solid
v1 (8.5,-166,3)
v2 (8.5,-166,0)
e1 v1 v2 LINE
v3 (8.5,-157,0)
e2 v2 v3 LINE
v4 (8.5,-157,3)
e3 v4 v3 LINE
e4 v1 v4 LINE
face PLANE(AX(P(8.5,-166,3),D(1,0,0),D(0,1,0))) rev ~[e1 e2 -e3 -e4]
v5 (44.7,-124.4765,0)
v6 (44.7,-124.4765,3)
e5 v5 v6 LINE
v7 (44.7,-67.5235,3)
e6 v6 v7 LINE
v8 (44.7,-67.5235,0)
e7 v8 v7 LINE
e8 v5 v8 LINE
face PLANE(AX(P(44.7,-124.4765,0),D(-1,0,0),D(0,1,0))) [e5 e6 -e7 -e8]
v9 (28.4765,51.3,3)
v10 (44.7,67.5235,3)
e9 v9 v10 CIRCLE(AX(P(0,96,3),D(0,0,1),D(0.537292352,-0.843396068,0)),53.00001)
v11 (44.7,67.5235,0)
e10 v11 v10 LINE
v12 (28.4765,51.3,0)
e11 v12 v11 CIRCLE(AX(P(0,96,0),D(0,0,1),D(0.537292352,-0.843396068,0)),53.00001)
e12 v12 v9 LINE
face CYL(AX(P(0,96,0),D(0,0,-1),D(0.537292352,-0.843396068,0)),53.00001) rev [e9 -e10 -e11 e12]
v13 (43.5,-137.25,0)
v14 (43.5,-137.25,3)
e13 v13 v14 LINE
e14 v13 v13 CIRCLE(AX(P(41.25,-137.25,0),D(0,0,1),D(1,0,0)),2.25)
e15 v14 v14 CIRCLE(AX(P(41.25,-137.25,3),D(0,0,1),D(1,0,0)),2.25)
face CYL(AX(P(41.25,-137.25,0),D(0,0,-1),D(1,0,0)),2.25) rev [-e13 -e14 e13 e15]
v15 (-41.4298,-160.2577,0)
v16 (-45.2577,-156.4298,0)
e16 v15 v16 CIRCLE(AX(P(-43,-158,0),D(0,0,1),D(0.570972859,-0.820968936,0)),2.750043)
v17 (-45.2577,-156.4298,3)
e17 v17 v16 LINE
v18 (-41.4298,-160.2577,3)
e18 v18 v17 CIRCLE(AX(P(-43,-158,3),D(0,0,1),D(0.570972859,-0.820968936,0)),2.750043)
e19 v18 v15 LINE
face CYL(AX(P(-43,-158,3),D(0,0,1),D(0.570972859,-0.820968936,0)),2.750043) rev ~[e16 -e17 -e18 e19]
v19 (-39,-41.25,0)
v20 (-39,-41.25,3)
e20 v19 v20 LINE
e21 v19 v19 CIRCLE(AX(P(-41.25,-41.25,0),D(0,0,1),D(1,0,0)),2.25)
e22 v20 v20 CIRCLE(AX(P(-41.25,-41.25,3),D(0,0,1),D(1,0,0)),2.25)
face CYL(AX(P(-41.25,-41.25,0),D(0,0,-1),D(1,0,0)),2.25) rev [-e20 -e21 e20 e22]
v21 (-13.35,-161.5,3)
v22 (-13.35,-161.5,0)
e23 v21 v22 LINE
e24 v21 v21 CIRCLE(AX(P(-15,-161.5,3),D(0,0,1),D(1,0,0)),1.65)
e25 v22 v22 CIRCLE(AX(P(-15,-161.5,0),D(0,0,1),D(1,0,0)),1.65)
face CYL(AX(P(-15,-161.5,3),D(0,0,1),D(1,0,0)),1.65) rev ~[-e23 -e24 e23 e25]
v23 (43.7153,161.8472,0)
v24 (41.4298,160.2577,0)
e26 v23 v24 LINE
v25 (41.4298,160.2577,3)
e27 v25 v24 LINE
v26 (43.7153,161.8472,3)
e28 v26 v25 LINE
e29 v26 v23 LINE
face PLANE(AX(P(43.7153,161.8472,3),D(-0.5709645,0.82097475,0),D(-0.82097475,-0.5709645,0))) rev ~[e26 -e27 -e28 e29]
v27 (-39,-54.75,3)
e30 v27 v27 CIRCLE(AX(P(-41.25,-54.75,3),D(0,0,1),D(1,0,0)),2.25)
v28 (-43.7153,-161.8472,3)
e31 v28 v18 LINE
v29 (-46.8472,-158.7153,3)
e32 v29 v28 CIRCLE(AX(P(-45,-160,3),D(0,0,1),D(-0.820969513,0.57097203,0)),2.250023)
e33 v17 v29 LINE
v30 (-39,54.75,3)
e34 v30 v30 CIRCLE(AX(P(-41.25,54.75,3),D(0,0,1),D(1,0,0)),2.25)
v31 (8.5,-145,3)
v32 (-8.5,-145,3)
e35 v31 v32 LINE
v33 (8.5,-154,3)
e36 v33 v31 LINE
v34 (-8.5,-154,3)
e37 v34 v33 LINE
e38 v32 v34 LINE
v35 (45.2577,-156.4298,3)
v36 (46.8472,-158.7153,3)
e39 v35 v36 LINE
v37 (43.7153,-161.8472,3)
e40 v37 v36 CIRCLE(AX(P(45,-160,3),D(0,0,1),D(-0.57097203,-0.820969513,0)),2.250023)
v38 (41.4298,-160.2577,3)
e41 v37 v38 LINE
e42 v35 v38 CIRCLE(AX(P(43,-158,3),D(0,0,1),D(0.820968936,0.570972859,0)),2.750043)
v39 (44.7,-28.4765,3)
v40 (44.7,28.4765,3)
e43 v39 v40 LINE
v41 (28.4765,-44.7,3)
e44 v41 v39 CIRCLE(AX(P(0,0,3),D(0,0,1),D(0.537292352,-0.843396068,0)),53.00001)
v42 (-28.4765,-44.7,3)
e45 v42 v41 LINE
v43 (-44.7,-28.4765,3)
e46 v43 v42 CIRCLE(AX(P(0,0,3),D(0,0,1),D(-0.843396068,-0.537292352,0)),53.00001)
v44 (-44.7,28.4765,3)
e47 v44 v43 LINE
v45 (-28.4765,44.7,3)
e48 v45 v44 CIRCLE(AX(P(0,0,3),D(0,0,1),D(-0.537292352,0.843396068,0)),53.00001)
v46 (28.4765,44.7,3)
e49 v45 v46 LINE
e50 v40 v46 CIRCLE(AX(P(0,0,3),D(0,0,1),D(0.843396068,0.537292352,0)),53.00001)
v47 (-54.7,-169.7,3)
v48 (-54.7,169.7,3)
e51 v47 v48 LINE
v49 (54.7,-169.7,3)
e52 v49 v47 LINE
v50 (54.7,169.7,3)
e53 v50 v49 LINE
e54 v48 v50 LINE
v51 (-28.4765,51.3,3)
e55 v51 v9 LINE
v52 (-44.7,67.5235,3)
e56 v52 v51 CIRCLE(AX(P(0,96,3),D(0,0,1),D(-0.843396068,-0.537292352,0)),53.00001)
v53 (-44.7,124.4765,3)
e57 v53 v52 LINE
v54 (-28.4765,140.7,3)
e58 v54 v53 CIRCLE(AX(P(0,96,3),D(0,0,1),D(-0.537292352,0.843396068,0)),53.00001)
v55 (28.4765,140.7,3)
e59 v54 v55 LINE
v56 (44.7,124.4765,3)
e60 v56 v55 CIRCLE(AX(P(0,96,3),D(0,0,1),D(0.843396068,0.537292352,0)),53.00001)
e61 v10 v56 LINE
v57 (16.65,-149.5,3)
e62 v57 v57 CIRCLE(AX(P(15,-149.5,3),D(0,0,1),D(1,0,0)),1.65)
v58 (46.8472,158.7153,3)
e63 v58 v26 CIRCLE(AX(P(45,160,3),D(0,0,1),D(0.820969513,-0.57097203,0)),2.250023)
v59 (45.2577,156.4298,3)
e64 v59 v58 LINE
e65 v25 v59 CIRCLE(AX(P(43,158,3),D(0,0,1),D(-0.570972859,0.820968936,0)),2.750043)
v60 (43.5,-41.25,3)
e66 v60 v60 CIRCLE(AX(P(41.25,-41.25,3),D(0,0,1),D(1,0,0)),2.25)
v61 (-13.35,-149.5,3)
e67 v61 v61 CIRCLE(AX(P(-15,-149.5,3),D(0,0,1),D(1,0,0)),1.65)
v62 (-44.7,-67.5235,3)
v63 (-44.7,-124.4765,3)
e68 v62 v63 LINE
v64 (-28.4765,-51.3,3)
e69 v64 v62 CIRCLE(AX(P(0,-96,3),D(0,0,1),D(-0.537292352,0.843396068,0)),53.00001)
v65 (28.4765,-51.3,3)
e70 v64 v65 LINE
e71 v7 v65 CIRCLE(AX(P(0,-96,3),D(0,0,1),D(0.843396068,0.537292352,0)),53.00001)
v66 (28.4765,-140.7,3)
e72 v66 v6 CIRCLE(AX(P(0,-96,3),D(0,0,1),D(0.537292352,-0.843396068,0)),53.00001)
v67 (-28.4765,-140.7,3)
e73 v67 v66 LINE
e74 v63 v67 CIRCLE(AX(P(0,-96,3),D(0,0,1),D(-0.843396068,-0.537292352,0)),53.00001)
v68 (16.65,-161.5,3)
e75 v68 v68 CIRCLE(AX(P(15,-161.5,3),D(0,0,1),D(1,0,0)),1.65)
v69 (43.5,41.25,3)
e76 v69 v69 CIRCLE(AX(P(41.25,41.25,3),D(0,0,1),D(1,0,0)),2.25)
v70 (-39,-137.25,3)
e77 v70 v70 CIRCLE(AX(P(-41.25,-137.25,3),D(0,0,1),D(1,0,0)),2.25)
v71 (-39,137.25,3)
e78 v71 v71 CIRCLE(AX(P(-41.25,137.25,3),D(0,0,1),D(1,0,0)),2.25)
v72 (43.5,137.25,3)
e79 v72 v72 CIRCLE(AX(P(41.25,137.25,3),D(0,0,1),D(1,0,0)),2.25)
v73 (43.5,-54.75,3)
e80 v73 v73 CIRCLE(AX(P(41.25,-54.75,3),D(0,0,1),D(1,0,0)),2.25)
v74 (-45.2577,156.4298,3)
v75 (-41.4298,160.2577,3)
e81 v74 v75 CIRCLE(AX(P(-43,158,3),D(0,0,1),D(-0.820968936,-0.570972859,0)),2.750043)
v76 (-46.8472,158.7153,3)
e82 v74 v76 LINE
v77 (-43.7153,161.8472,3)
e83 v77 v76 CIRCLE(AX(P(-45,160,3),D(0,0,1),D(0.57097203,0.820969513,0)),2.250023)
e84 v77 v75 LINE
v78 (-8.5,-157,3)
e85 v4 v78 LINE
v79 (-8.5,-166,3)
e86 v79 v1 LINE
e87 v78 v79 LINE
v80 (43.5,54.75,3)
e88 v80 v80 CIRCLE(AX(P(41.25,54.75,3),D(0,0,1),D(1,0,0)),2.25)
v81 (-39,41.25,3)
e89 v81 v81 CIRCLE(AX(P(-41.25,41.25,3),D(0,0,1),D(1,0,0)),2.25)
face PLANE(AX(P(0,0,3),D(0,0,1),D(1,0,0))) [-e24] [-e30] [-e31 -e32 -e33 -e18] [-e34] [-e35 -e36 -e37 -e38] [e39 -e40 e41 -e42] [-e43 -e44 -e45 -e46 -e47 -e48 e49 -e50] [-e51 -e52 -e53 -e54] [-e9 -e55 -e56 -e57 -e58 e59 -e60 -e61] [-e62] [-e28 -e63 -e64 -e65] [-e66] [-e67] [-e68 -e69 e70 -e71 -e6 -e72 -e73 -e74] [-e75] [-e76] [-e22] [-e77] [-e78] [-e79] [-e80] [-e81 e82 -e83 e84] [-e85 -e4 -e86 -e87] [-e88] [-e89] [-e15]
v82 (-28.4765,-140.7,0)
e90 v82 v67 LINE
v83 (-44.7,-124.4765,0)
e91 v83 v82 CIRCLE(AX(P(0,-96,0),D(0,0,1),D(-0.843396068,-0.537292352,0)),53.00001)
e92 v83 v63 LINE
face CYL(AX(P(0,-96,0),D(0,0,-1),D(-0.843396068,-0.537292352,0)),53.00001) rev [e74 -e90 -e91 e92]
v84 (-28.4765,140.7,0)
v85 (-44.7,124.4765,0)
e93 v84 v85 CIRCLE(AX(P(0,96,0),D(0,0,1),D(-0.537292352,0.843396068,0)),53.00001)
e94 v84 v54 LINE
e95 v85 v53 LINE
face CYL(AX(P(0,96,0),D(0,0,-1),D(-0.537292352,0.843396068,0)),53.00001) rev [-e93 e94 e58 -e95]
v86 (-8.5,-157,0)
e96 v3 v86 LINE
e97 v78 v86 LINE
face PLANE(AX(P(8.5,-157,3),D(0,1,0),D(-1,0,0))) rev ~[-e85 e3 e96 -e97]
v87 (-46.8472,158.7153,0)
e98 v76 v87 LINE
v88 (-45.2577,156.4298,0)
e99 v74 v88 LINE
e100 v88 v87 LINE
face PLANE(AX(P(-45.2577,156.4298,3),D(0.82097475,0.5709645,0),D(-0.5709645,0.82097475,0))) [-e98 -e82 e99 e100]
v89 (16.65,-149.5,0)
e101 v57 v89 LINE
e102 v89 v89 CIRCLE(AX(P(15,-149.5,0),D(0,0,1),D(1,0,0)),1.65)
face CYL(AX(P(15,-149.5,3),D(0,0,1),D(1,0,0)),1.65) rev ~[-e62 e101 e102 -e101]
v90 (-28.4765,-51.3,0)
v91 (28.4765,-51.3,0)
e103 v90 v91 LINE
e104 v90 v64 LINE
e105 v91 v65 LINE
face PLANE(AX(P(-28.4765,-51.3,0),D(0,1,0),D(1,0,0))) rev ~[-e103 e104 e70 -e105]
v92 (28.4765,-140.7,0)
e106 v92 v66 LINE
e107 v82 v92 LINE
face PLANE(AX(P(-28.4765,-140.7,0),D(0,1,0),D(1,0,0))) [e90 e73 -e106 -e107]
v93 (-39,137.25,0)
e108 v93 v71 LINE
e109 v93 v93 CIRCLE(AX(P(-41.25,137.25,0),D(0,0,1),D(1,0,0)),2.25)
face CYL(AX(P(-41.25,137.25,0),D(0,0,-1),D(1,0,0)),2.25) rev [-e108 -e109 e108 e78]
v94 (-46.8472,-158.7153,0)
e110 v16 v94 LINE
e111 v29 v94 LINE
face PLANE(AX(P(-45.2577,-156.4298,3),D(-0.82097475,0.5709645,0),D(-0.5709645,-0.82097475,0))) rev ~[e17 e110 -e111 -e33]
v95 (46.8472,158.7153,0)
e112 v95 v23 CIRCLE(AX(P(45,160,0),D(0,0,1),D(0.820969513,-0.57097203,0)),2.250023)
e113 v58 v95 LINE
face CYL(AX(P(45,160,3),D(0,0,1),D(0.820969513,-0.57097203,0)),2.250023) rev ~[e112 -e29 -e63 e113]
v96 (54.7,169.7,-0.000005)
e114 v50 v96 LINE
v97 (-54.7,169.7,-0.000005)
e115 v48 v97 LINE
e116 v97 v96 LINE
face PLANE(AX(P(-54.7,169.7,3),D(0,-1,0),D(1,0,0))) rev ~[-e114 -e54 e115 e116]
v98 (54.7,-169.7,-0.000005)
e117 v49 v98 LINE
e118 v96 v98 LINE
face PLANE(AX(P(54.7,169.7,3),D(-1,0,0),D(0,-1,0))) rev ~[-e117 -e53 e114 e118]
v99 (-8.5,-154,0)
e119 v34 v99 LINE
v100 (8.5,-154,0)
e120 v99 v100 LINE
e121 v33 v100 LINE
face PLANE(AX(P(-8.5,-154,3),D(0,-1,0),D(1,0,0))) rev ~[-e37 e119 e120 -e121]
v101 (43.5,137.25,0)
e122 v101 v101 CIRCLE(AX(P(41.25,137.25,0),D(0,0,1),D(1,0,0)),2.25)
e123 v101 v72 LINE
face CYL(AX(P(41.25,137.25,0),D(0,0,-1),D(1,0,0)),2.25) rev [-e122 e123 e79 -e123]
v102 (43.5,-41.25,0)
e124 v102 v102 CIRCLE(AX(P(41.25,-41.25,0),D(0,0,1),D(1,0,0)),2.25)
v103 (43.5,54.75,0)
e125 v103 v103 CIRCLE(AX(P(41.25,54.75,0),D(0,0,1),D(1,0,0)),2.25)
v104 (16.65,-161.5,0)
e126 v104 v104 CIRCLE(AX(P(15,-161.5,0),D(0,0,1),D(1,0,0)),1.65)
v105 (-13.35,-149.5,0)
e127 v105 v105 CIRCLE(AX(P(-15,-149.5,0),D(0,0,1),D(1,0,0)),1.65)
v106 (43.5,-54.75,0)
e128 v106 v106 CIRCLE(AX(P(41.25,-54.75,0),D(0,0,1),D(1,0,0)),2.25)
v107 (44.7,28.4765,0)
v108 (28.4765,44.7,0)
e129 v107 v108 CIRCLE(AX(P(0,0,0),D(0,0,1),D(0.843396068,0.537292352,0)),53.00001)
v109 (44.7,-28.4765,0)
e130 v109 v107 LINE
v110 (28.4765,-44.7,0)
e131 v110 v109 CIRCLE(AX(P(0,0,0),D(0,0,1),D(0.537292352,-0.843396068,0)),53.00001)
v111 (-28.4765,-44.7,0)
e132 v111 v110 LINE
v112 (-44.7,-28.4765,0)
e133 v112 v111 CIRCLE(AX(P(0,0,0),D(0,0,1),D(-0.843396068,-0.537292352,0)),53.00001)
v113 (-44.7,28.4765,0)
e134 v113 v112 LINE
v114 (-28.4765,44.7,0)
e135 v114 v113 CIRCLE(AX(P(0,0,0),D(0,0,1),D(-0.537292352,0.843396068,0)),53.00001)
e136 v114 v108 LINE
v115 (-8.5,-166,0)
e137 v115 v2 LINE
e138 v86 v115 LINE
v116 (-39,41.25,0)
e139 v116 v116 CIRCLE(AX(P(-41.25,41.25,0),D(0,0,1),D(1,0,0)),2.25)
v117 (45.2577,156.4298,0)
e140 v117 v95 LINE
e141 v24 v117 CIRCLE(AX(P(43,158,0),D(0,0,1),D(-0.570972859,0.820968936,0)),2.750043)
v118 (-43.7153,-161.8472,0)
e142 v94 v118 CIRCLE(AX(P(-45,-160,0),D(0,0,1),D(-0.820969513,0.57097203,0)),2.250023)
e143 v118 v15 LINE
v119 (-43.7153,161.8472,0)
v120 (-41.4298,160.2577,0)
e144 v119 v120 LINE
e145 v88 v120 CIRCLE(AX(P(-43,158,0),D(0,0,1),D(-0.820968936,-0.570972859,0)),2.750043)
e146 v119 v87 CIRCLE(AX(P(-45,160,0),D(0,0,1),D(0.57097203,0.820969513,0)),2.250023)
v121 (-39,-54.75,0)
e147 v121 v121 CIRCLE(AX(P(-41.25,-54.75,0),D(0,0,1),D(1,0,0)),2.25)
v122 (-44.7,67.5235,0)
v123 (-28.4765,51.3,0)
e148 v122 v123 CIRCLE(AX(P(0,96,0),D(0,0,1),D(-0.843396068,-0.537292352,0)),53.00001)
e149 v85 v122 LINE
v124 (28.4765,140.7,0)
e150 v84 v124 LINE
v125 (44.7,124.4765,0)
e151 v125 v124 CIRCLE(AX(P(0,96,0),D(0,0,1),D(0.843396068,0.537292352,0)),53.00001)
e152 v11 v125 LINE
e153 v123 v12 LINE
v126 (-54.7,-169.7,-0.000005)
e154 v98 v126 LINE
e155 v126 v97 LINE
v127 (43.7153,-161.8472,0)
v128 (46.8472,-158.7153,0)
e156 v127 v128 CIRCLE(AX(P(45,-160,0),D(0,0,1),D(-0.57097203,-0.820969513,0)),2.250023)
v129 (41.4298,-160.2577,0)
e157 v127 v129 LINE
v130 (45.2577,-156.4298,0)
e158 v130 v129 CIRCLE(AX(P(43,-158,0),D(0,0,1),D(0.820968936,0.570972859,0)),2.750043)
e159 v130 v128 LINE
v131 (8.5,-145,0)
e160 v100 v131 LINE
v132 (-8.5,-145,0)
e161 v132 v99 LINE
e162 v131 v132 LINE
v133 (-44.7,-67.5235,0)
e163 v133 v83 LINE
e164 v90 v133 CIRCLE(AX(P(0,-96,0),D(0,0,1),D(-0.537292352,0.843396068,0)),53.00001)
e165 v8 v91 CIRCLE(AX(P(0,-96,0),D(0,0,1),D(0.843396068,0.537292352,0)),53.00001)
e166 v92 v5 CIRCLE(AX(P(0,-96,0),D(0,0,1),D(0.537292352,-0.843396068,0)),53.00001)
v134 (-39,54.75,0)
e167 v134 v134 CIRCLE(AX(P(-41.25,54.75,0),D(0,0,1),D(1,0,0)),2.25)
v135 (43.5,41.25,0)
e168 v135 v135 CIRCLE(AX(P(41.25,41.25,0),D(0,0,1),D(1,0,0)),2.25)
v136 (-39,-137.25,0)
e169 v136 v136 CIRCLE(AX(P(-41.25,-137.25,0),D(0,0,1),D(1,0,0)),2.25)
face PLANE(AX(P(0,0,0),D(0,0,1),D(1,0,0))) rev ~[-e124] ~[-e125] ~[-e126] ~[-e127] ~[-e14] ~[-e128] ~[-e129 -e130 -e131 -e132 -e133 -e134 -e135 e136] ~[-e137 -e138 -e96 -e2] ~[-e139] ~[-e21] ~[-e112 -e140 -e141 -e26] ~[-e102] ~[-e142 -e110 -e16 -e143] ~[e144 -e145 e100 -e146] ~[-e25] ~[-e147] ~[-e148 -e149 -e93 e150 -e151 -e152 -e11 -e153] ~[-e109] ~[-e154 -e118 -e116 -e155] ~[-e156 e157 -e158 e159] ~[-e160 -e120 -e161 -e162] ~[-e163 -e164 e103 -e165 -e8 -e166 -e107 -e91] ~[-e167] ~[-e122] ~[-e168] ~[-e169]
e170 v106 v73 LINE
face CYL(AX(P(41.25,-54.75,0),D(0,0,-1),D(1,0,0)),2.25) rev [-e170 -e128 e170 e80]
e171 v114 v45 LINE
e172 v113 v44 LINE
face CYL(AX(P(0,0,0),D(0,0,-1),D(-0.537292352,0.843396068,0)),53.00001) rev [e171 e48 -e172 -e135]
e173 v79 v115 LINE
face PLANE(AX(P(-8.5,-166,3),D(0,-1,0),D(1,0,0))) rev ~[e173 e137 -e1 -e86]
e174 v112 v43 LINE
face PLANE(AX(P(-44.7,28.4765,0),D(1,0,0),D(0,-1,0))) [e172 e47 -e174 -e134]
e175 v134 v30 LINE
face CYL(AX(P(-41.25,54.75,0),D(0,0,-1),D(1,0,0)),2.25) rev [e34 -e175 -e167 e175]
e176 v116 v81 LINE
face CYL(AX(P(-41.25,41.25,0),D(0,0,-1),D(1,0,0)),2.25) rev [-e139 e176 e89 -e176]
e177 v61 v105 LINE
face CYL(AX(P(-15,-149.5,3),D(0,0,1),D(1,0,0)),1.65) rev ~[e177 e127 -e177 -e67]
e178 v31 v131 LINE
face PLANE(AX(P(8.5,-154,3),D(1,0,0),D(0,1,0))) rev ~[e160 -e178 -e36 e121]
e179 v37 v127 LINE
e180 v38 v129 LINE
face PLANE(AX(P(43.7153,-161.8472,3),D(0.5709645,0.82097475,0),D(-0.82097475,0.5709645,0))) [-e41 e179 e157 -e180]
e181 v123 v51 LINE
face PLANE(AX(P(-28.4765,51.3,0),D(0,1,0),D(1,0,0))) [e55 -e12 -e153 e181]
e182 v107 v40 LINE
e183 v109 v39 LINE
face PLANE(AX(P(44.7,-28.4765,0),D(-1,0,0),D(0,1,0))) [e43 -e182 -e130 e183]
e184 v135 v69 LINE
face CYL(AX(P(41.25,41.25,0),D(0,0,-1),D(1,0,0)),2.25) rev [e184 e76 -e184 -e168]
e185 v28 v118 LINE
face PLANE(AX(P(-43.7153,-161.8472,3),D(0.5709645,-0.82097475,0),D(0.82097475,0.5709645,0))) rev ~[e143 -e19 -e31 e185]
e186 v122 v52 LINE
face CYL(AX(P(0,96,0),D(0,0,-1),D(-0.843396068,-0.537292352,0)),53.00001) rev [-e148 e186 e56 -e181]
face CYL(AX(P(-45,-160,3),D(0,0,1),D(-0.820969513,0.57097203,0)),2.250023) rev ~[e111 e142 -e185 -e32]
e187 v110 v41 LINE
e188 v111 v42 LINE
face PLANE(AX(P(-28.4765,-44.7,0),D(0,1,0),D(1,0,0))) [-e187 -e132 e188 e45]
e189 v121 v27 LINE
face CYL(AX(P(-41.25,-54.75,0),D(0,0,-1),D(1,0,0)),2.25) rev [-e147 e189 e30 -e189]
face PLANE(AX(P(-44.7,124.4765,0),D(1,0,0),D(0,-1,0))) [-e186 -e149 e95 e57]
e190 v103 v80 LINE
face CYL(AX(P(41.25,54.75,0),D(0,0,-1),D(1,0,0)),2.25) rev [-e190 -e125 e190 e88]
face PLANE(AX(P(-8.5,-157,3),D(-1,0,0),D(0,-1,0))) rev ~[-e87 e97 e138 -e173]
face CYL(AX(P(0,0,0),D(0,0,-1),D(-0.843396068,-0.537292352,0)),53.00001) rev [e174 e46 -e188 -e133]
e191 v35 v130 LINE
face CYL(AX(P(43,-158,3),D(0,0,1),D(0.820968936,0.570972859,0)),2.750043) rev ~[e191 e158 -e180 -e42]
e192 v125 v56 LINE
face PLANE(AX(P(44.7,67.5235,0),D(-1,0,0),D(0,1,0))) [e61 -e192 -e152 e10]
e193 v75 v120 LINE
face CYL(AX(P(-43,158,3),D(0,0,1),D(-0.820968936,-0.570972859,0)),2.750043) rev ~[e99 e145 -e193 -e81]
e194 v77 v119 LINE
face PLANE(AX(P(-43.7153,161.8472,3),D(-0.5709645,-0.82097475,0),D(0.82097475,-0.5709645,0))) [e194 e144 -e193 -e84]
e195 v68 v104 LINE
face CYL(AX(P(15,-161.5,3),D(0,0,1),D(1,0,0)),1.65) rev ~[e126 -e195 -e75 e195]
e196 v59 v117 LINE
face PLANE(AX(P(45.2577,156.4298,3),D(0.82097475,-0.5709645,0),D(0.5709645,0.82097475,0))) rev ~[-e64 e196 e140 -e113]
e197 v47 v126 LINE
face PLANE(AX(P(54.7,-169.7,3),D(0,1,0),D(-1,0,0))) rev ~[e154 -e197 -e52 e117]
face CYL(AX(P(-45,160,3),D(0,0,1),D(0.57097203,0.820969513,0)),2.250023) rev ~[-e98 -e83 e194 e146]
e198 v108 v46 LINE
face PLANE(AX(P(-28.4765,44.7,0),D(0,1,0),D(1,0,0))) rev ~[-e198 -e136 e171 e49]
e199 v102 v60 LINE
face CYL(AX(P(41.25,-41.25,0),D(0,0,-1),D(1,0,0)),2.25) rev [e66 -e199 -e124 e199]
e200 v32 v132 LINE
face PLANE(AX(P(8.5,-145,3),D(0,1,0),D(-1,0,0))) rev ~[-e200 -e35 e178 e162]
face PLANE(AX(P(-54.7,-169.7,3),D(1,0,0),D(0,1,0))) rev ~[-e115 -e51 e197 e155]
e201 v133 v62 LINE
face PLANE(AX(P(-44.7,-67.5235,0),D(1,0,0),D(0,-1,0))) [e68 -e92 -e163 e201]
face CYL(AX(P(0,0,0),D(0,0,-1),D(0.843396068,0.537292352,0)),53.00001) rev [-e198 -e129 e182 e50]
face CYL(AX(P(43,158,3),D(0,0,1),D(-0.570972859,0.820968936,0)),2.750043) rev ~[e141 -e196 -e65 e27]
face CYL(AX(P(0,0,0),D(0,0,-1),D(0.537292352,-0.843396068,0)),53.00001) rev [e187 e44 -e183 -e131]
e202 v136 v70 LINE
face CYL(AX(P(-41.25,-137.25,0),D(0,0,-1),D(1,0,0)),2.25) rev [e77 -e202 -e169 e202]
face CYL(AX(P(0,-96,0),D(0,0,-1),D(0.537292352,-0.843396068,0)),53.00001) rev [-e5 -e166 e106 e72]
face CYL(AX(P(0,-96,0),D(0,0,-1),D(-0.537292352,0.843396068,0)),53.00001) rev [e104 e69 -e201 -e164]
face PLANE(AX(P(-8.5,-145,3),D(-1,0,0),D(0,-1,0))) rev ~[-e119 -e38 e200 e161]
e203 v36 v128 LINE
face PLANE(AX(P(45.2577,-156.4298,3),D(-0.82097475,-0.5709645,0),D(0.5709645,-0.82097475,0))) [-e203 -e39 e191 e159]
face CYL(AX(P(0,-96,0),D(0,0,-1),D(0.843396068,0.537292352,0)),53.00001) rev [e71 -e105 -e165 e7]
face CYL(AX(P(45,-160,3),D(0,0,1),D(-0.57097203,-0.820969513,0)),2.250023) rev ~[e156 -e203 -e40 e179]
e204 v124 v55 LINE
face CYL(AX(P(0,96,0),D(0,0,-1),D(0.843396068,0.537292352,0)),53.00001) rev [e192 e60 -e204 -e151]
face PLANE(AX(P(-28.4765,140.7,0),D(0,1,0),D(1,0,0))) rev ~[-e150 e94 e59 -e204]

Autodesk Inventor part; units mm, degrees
ref_plane "YZ Plane" through (0, 0, 0) normal (1, 0, 0) x (0, 1, 0)
ref_plane "XZ Plane" through (0, 0, 0) normal (0, 1, 0) x (-1, 0, 0)
ref_plane "XY Plane" through (0, 0, 0) normal (0, 0, 1) x (1, 0, 0)
sketch "スケッチ1" plane through (0, 0, 0) normal (0, 0, 1) x (1, 0, 0)
  line L0 (-55, -170) -> (55, -170)
  line L1 (55, -170) -> (55, 170)
  line L2 (55, 170) -> (-55, 170)
  line L3 (-55, 170) -> (-55, -170)
  line L4 (-55, -170) -> (55, 170) construction
  line L5 (55, -170) -> (-55, 170) construction
  line L6 (-55, 140) -> (-50, 140) construction
  line L7 (-50, 140) -> (-25, 165) construction
  line L8 (-25, 165) -> (-25, 170) construction
  line L9 (-46, 50) -> (46, 50) construction
  line L10 (46, 50) -> (46, 142) construction
  line L11 (46, 142) -> (-46, 142) construction
  line L12 (-46, 142) -> (-46, 50) construction
  line L13 (-46, 50) -> (46, 142) construction
  line L14 (46, 50) -> (-46, 142) construction
  line L15 (-46, 2) -> (46, 2) construction
  line L16 (46, 2) -> (46, 46) construction
  line L17 (46, 46) -> (-46, 46) construction
  line L18 (-46, 46) -> (-46, 2) construction
  line L19 (-46, 2) -> (46, 46) construction
  line L20 (46, 2) -> (-46, 46) construction
  line L21 (0, 0) -> (0, 96) construction
  circle A0 centre (0, 96) radius 53 construction
  line L22 (-44.7, 51.3) -> (44.7, 51.3) construction
  line L23 (44.7, 51.3) -> (44.7, 140.7) construction
  line L24 (44.7, 140.7) -> (-44.7, 140.7) construction
  line L25 (-44.7, 140.7) -> (-44.7, 51.3) construction
  line L26 (-44.7, 51.3) -> (44.7, 140.7) construction
  line L27 (44.7, 51.3) -> (-44.7, 140.7) construction
  arc A1 (-28.4765, 140.7) -> (-44.7, 124.4765) centre (0, 96) ccw
  arc A2 (-44.7, 67.5235) -> (-28.4765, 51.3) centre (0, 96) ccw
  arc A3 (28.4765, 51.3) -> (44.7, 67.5235) centre (0, 96) ccw
  arc A4 (44.7, 124.4765) -> (28.4765, 140.7) centre (0, 96) ccw
  line L28 (-28.4765, 140.7) -> (28.4765, 140.7)
  line L29 (-44.7, 124.4765) -> (-44.7, 67.5235)
  line L30 (-28.4765, 51.3) -> (28.4765, 51.3)
  line L31 (44.7, 67.5235) -> (44.7, 124.4765)
  line L32 (-41.25, 54.75) -> (41.25, 54.75) construction
  line L33 (41.25, 54.75) -> (41.25, 137.25) construction
  line L34 (41.25, 137.25) -> (-41.25, 137.25) construction
  line L35 (-41.25, 137.25) -> (-41.25, 54.75) construction
  line L36 (-41.25, 54.75) -> (41.25, 137.25) construction
  line L37 (41.25, 54.75) -> (-41.25, 137.25) construction
  circle A5 centre (-41.25, 137.25) radius 2.25
  circle A6 centre (-41.25, 54.75) radius 2.25
  circle A7 centre (41.25, 54.75) radius 2.25
  circle A8 centre (41.25, 137.25) radius 2.25
  circle A9 centre (-45, 160) radius 2.25
  circle A10 centre (45, 160) radius 2.25
  circle A11 centre (45, -160) radius 2.25
  circle A12 centre (-45, -160) radius 2.25
  line L38 (-55, 0) -> (55, 0) construction
  circle A13 centre (-41.25, -41.25) radius 2.25
  arc A14 (-44.7, -28.4765) -> (-28.4765, -44.7) centre (0, 0) ccw
  line L39 (-28.4765, -44.7) -> (28.4765, -44.7)
  arc A15 (28.4765, -44.7) -> (44.7, -28.4765) centre (0, 0) ccw
  circle A16 centre (41.25, -41.25) radius 2.25
  line L40 (44.7, -28.4765) -> (44.7, 28.4765)
  circle A17 centre (41.25, 41.25) radius 2.25
  arc A18 (44.7, 28.4765) -> (28.4765, 44.7) centre (0, 0) ccw
  line L41 (-28.4765, 44.7) -> (28.4765, 44.7)
  circle A19 centre (-41.25, 41.25) radius 2.25
  arc A20 (-28.4765, 44.7) -> (-44.7, 28.4765) centre (0, 0) ccw
  line L42 (-44.7, 28.4765) -> (-44.7, -28.4765)
  circle A21 centre (-41.25, -137.25) radius 2.25
  arc A22 (-44.7, -124.4765) -> (-28.4765, -140.7) centre (0, -96) ccw
  line L43 (-28.4765, -140.7) -> (28.4765, -140.7)
  arc A23 (28.4765, -140.7) -> (44.7, -124.4765) centre (0, -96) ccw
  circle A24 centre (41.25, -137.25) radius 2.25
  line L44 (44.7, -124.4765) -> (44.7, -67.5235)
  circle A25 centre (41.25, -54.75) radius 2.25
  arc A26 (44.7, -67.5235) -> (28.4765, -51.3) centre (0, -96) ccw
  line L45 (-28.4765, -51.3) -> (28.4765, -51.3)
  circle A27 centre (-41.25, -54.75) radius 2.25
  arc A28 (-28.4765, -51.3) -> (-44.7, -67.5235) centre (0, -96) ccw
  line L46 (-44.7, -67.5235) -> (-44.7, -124.4765)
  point P0 (0, 24)
  point P1 (0, 24)
  dimension "d12" = 106
  dimension "d0" = 110
  dimension "d1" = 340
  dimension "d2" = 135
  dimension "d3" = 30
  dimension "d4" = 30
  dimension "d5" = 5
  dimension "d6" = 92
  dimension "d7" = 92
  dimension "d8" = 92
  dimension "d9" = 44
  dimension "d10" = 4
  dimension "d11" = 2
  dimension "d13" = 89.4
  dimension "d14" = 89.4
  dimension "d15" = 82.5
  dimension "d16" = 82.5
  dimension "d17" = 4.5
  dimension "d25" = 4.5
  dimension "d26" = 10
  dimension "d27" = 10
  dimension "d28" = 10
  dimension "d29" = 10
  dimension "d30" = 10
  dimension "d31" = 10
  dimension "d32" = 10
  dimension "d33" = 10
  dimension "d45" = 96
  dimension "d80" = 0
extrude "押し出し1" add sketch "スケッチ1" along normal blind 3
sketch "スケッチ2" plane through (0, 0, 3) normal (0, 0, 1) x (1, 0, 0)
  circle A0 centre (-45, 160) radius 2.25 construction
  circle A1 centre (45, -160) radius 2.25 construction
  circle A2 centre (-45, -160) radius 2.25 construction
  circle A3 centre (-43, 158) radius 2.75 construction
  line L0 (55, 170) -> (-55, 170) projected
  line L1 (-55, 170) -> (-55, -170) projected
  line L2 (-43.7153, 161.8472) -> (-41.4298, 160.2577)
  line L3 (-45.2577, 156.4298) -> (-46.8472, 158.7153)
  circle A4 centre (-45, 160) radius 2.25 construction
  arc A5 (-43.7153, 161.8472) -> (-46.8472, 158.7153) centre (-45, 160) ccw
  arc A6 (-45.2577, 156.4298) -> (-41.4298, 160.2577) centre (-43, 158) ccw
  line L4 (55, 170) -> (-55, 170) construction
  line L5 (0, 170) -> (0, -170) construction
  line L6 (-55, -170) -> (55, -170) construction
  line L7 (-55, 0) -> (55, 0) construction
  line L8 (55, -170) -> (55, 170) construction
  circle A7 centre (45, 160) radius 2.25 construction
  circle A8 centre (43, 158) radius 2.75 construction
  line L9 (43.7153, 161.8472) -> (41.4298, 160.2577)
  line L10 (45.2577, 156.4298) -> (46.8472, 158.7153)
  circle A9 centre (45, 160) radius 2.25 construction
  arc A10 (46.8472, 158.7153) -> (43.7153, 161.8472) centre (45, 160) ccw
  arc A11 (41.4298, 160.2577) -> (45.2577, 156.4298) centre (43, 158) ccw
  circle A12 centre (-45, -160) radius 2.25 construction
  circle A13 centre (-43, -158) radius 2.75 construction
  line L11 (-43.7153, -161.8472) -> (-41.4298, -160.2577)
  line L12 (-45.2577, -156.4298) -> (-46.8472, -158.7153)
  circle A14 centre (-45, -160) radius 2.25 construction
  arc A15 (-46.8472, -158.7153) -> (-43.7153, -161.8472) centre (-45, -160) ccw
  arc A16 (-41.4298, -160.2577) -> (-45.2577, -156.4298) centre (-43, -158) ccw
  circle A17 centre (45, -160) radius 2.25 construction
  line L13 (45.2577, -156.4298) -> (46.8472, -158.7153)
  arc A18 (45.2577, -156.4298) -> (41.4298, -160.2577) centre (43, -158) ccw
  circle A19 centre (43, -158) radius 2.75 construction
  line L14 (43.7153, -161.8472) -> (41.4298, -160.2577)
  circle A20 centre (45, -160) radius 2.25 construction
  arc A21 (43.7153, -161.8472) -> (46.8472, -158.7153) centre (45, -160) ccw
  point P0 (0, 0)
  dimension "d38" = 5.5
  dimension "d39" = 12
  dimension "d40" = 12
extrude "押し出し2" cut sketch "スケッチ2" against normal through all
sketch "スケッチ3" plane through (0, 0, 3) normal (0, 0, 1) x (1, 0, 0)
  line L0 (-55, -170) -> (55, -170) construction
  line L1 (-55, 170) -> (-55, -170) construction
  line L2 (55, -170) -> (55, 170) construction
  line L3 (0, -170) -> (0, -116.79) construction
  arc A0 (-17.4739, -147.55) -> (-17.4739, -162.45) centre (-15, -155) ccw construction
  line L4 (-17.4739, -147.55) -> (-12.5261, -147.55) construction
  line L5 (-12.5261, -162.45) -> (-17.4739, -162.45) construction
  arc A1 (-12.5261, -147.55) -> (-17.4739, -147.55) centre (-15, -155) ccw construction
  arc A2 (-12.5261, -162.45) -> (-12.5261, -147.55) centre (-15, -155) ccw construction
  arc A3 (-17.4739, -162.45) -> (-12.5261, -162.45) centre (-15, -155) ccw construction
  line L6 (-17.4755, -162.46) -> (-12.5245, -162.46)
  arc A4 (-12.5245, -162.46) -> (-12.5245, -147.54) centre (-15, -155) ccw
  line L7 (-12.5245, -147.54) -> (-17.4755, -147.54)
  arc A5 (-17.4755, -147.54) -> (-17.4755, -162.46) centre (-15, -155) ccw
  line L8 (17.4755, -162.46) -> (12.5245, -162.46)
  arc A6 (12.5245, -147.54) -> (12.5245, -162.46) centre (15, -155) ccw
  line L9 (12.5245, -147.54) -> (17.4755, -147.54)
  arc A7 (17.4755, -162.46) -> (17.4755, -147.54) centre (15, -155) ccw
  point P0 (0, 0)
  dimension "d50" = 15.7
  dimension "d51" = 14.9
  dimension "d52" = 15
  dimension "d53" = 15
  dimension "d54" = 40
  dimension "d55" = 0.01
extrude "押し出し3" [suppressed]
sketch "スケッチ4" plane through (0, 0, 3) normal (0, 0, 1) x (1, 0, 0)
  line L0 (-55, 170) -> (-55, -170) projected
  line L1 (-55, 170) -> (55, 170)
  line L2 (55, 170) -> (55, 167)
  line L3 (55, 167) -> (-55, 167)
  line L4 (-55, 167) -> (-55, 170)
  point P0 (0, 0)
  dimension "d58" = 3
extrude "押し出し4" [suppressed]
sketch "スケッチ6" plane through (0, 0, 3) normal (0, 0, 1) x (1, 0, 0)
  line L0 (-55, 170) -> (-55, -170) construction
  line L1 (-55, -170) -> (-25, -170) construction
  line L2 (-25, -170) -> (-25, -140) construction
  line L3 (-25, -140) -> (-55, -140) construction
  line L4 (-55, -140) -> (-55, -170) construction
  line L5 (-40, -100) -> (-40, -140) construction
  line L6 (-46.25, -120) -> (-46.25, -105) construction
  line L7 (-46.25, -120) -> (-46.25, -135) construction
  line L8 (-33.75, -120) -> (-33.75, -105) construction
  line L9 (-33.75, -120) -> (-33.75, -135) construction
  circle A0 centre (-46.25, -105) radius 1.65
  circle A1 centre (-33.75, -105) radius 1.65 construction
  circle A2 centre (-33.75, -135) radius 1.65 construction
  circle A3 centre (-46.25, -135) radius 1.65
  line L10 (-50.75, -128.5) -> (-41.75, -128.5)
  line L11 (-41.75, -128.5) -> (-41.75, -111.5)
  line L12 (-41.75, -111.5) -> (-50.75, -111.5)
  line L13 (-50.75, -111.5) -> (-50.75, -128.5)
  line L14 (-50.75, -128.5) -> (-41.75, -111.5) construction
  line L15 (-41.75, -128.5) -> (-50.75, -111.5) construction
  line L16 (-38.25, -128.5) -> (-29.25, -128.5) construction
  line L17 (-29.25, -128.5) -> (-29.25, -111.5) construction
  line L18 (-29.25, -111.5) -> (-38.25, -111.5) construction
  line L19 (-38.25, -111.5) -> (-38.25, -128.5) construction
  line L20 (-38.25, -128.5) -> (-29.25, -111.5) construction
  line L21 (-29.25, -128.5) -> (-38.25, -111.5) construction
  line L22 (-52.5, -100) -> (-27.5, -100) construction
  line L23 (-46.25, -120) -> (-40, -120) construction
  line L24 (-33.75, -120) -> (-40, -120) construction
  circle A4 centre (-46.25, -95) radius 1.65
  circle A5 centre (-46.25, -65) radius 1.65
  line L25 (-50.75, -71.5) -> (-41.75, -71.5)
  line L26 (-41.75, -71.5) -> (-41.75, -88.5)
  line L27 (-41.75, -88.5) -> (-50.75, -88.5)
  line L28 (-50.75, -88.5) -> (-50.75, -71.5)
  point P0 (0, 0)
  point P1 (-36.875, -120)
  point P2 (-43.125, -120)
  dimension "d64" = 30
  dimension "d65" = 30
  dimension "d68" = 30
  dimension "d69" = 3.3
  dimension "d70" = 9
  dimension "d71" = 17
  dimension "d75" = 25
  dimension "d77" = 6.25
  dimension "d78" = 40
  dimension "d79" = 15
extrude "押し出し6" [suppressed]
sketch "スケッチ8" plane through (0, 0, 3) normal (0, 0, 1) x (1, 0, 0)
  line L0 (-55, -170) -> (55, -170) construction
  line L1 (-55, -170) -> (55, -170) construction
  line L2 (0, -170) -> (0, -140.7) construction
  line L3 (-28.4765, -140.7) -> (28.4765, -140.7) construction
  line L4 (-55, 170) -> (-55, -170) construction
  line L5 (-55, -140) -> (-50, -140) construction
  line L6 (-50, -140) -> (-25, -165) construction
  line L7 (-25, -165) -> (-25, -170) construction
  line L8 (-20, -161.5) -> (20, -161.5) construction
  line L9 (-20, -149.5) -> (20, -149.5) construction
  line L10 (-8.5, -154) -> (8.5, -154)
  line L11 (8.5, -154) -> (8.5, -145)
  line L12 (8.5, -145) -> (-8.5, -145)
  line L13 (-8.5, -145) -> (-8.5, -154)
  line L14 (-8.5, -154) -> (8.5, -145) construction
  line L15 (8.5, -154) -> (-8.5, -145) construction
  line L16 (-8.5, -166) -> (8.5, -166)
  line L17 (8.5, -166) -> (8.5, -157)
  line L18 (8.5, -157) -> (-8.5, -157)
  line L19 (-8.5, -157) -> (-8.5, -166)
  line L20 (-8.5, -166) -> (8.5, -157) construction
  line L21 (8.5, -166) -> (-8.5, -157) construction
  circle A0 centre (-15, -149.5) radius 1.65
  line L22 (-15, -149.5) -> (-15, -161.5) construction
  circle A1 centre (-15, -161.5) radius 1.65
  circle A2 centre (15, -149.5) radius 1.65
  circle A3 centre (15, -161.5) radius 1.65
  point P0 (0, 0)
  point P1 (0, -161.5)
  point P2 (0, -149.5)
  dimension "d84" = 5
  dimension "d85" = 135
  dimension "d86" = 5
  dimension "d87" = 30
  dimension "d88" = 40
  dimension "d89" = 12
  dimension "d90" = 8.5
  dimension "d91" = 8.8
  dimension "d92" = 17
  dimension "d93" = 9
  dimension "d94" = 3.3
  dimension "d95" = 15
extrude "押し出し7" cut sketch "スケッチ8" against normal through all
sketch "スケッチ5" plane through (0, 0, 3) normal (0, 0, 1) x (1, 0, 0)
  line L0 (-55, -170) -> (55, -170) construction
  line L1 (55, -170) -> (55, 170) construction
  line L2 (55, 170) -> (-55, 170) construction
  line L3 (-55, 170) -> (-55, -170) construction
  circle A0 centre (-41.25, 137.25) radius 2.25 construction
  circle A1 centre (-41.25, 54.75) radius 2.25 construction
  circle A2 centre (41.25, 54.75) radius 2.25 construction
  circle A3 centre (41.25, 137.25) radius 2.25 construction
  line L4 (43.7153, -161.8472) -> (41.4298, -160.2577) construction
  arc A4 (45.2577, -156.4298) -> (41.4298, -160.2577) centre (43, -158) ccw construction
  line L5 (45.2577, -156.4298) -> (46.8472, -158.7153) construction
  arc A5 (43.7153, -161.8472) -> (46.8472, -158.7153) centre (45, -160) ccw construction
  circle A6 centre (-41.25, -41.25) radius 2.25 construction
  circle A7 centre (41.25, -41.25) radius 2.25 construction
  circle A8 centre (41.25, 41.25) radius 2.25 construction
  circle A9 centre (-41.25, 41.25) radius 2.25 construction
  line L6 (-28.4765, 140.7) -> (28.4765, 140.7) construction
  arc A10 (44.7, 124.4765) -> (28.4765, 140.7) centre (0, 96) ccw construction
  line L7 (44.7, 124.4765) -> (44.7, 67.5235) construction
  arc A11 (28.4765, 51.3) -> (44.7, 67.5235) centre (0, 96) ccw construction
  line L8 (28.4765, 51.3) -> (-28.4765, 51.3) construction
  arc A12 (-44.7, 67.5235) -> (-28.4765, 51.3) centre (0, 96) ccw construction
  line L9 (-44.7, 67.5235) -> (-44.7, 124.4765) construction
  arc A13 (-28.4765, 140.7) -> (-44.7, 124.4765) centre (0, 96) ccw construction
  line L10 (-44.7, -28.4765) -> (-44.7, 28.4765) construction
  arc A14 (-28.4765, 44.7) -> (-44.7, 28.4765) centre (0, 0) ccw construction
  line L11 (-28.4765, 44.7) -> (28.4765, 44.7) construction
  arc A15 (44.7, 28.4765) -> (28.4765, 44.7) centre (0, 0) ccw construction
  line L12 (44.7, 28.4765) -> (44.7, -28.4765) construction
  arc A16 (28.4765, -44.7) -> (44.7, -28.4765) centre (0, 0) ccw construction
  line L13 (28.4765, -44.7) -> (-28.4765, -44.7) construction
  arc A17 (-44.7, -28.4765) -> (-28.4765, -44.7) centre (0, 0) ccw construction
  line L14 (41.4298, 160.2577) -> (43.7153, 161.8472) construction
  arc A18 (46.8472, 158.7153) -> (43.7153, 161.8472) centre (45, 160) ccw construction
  line L15 (46.8472, 158.7153) -> (45.2577, 156.4298) construction
  arc A19 (41.4298, 160.2577) -> (45.2577, 156.4298) centre (43, 158) ccw construction
  line L16 (-45.2577, 156.4298) -> (-46.8472, 158.7153) construction
  arc A20 (-43.7153, 161.8472) -> (-46.8472, 158.7153) centre (-45, 160) ccw construction
  line L17 (-43.7153, 161.8472) -> (-41.4298, 160.2577) construction
  arc A21 (-45.2577, 156.4298) -> (-41.4298, 160.2577) centre (-43, 158) ccw construction
  line L18 (-41.4298, -160.2577) -> (-43.7153, -161.8472) construction
  arc A22 (-46.8472, -158.7153) -> (-43.7153, -161.8472) centre (-45, -160) ccw construction
  line L19 (-46.8472, -158.7153) -> (-45.2577, -156.4298) construction
  arc A23 (-41.4298, -160.2577) -> (-45.2577, -156.4298) centre (-43, -158) ccw construction
  line L20 (-54.7, 169.7) -> (54.7, 169.7)
  line L21 (54.7, 169.7) -> (54.7, -169.7)
  line L22 (54.7, -169.7) -> (-54.7, -169.7)
  line L23 (-54.7, -169.7) -> (-54.7, 169.7)
  line L24 (-44.7, -124.4765) -> (-44.7, -67.5235) projected
  arc A24 (-28.4765, -51.3) -> (-44.7, -67.5235) centre (0, -96) ccw projected
  line L25 (-28.4765, -51.3) -> (28.4765, -51.3) projected
  arc A25 (44.7, -67.5235) -> (28.4765, -51.3) centre (0, -96) ccw projected
  line L26 (44.7, -67.5235) -> (44.7, -124.4765) projected
  arc A26 (28.4765, -140.7) -> (44.7, -124.4765) centre (0, -96) ccw projected
  line L27 (28.4765, -140.7) -> (-28.4765, -140.7) projected
  arc A27 (-44.7, -124.4765) -> (-28.4765, -140.7) centre (0, -96) ccw projected
  dimension "d61" = 0.3
extrude "押し出し5" cut sketch "スケッチ5" against normal through all contours L20 L21 L22 L23 | L24 A24 L25 A25 L26 A26 L27 A27 keep common part
equation "\"d4\" = d3"
equation "\"d11\" = 0.5 * d10"
equation "\"d27\" = d26"
equation "\"d28\" = d26"
equation "\"d29\" = d26"
equation "\"d30\" = d26"
equation "\"d31\" = d26"
equation "\"d32\" = d26"
equation "\"d33\" = d26"
equation "\"d45\" = d7 + d10"
equation "\"d77\" = 0.25 * d75"
properties part number "top_panel_2" material "アルミニウム 6061"
